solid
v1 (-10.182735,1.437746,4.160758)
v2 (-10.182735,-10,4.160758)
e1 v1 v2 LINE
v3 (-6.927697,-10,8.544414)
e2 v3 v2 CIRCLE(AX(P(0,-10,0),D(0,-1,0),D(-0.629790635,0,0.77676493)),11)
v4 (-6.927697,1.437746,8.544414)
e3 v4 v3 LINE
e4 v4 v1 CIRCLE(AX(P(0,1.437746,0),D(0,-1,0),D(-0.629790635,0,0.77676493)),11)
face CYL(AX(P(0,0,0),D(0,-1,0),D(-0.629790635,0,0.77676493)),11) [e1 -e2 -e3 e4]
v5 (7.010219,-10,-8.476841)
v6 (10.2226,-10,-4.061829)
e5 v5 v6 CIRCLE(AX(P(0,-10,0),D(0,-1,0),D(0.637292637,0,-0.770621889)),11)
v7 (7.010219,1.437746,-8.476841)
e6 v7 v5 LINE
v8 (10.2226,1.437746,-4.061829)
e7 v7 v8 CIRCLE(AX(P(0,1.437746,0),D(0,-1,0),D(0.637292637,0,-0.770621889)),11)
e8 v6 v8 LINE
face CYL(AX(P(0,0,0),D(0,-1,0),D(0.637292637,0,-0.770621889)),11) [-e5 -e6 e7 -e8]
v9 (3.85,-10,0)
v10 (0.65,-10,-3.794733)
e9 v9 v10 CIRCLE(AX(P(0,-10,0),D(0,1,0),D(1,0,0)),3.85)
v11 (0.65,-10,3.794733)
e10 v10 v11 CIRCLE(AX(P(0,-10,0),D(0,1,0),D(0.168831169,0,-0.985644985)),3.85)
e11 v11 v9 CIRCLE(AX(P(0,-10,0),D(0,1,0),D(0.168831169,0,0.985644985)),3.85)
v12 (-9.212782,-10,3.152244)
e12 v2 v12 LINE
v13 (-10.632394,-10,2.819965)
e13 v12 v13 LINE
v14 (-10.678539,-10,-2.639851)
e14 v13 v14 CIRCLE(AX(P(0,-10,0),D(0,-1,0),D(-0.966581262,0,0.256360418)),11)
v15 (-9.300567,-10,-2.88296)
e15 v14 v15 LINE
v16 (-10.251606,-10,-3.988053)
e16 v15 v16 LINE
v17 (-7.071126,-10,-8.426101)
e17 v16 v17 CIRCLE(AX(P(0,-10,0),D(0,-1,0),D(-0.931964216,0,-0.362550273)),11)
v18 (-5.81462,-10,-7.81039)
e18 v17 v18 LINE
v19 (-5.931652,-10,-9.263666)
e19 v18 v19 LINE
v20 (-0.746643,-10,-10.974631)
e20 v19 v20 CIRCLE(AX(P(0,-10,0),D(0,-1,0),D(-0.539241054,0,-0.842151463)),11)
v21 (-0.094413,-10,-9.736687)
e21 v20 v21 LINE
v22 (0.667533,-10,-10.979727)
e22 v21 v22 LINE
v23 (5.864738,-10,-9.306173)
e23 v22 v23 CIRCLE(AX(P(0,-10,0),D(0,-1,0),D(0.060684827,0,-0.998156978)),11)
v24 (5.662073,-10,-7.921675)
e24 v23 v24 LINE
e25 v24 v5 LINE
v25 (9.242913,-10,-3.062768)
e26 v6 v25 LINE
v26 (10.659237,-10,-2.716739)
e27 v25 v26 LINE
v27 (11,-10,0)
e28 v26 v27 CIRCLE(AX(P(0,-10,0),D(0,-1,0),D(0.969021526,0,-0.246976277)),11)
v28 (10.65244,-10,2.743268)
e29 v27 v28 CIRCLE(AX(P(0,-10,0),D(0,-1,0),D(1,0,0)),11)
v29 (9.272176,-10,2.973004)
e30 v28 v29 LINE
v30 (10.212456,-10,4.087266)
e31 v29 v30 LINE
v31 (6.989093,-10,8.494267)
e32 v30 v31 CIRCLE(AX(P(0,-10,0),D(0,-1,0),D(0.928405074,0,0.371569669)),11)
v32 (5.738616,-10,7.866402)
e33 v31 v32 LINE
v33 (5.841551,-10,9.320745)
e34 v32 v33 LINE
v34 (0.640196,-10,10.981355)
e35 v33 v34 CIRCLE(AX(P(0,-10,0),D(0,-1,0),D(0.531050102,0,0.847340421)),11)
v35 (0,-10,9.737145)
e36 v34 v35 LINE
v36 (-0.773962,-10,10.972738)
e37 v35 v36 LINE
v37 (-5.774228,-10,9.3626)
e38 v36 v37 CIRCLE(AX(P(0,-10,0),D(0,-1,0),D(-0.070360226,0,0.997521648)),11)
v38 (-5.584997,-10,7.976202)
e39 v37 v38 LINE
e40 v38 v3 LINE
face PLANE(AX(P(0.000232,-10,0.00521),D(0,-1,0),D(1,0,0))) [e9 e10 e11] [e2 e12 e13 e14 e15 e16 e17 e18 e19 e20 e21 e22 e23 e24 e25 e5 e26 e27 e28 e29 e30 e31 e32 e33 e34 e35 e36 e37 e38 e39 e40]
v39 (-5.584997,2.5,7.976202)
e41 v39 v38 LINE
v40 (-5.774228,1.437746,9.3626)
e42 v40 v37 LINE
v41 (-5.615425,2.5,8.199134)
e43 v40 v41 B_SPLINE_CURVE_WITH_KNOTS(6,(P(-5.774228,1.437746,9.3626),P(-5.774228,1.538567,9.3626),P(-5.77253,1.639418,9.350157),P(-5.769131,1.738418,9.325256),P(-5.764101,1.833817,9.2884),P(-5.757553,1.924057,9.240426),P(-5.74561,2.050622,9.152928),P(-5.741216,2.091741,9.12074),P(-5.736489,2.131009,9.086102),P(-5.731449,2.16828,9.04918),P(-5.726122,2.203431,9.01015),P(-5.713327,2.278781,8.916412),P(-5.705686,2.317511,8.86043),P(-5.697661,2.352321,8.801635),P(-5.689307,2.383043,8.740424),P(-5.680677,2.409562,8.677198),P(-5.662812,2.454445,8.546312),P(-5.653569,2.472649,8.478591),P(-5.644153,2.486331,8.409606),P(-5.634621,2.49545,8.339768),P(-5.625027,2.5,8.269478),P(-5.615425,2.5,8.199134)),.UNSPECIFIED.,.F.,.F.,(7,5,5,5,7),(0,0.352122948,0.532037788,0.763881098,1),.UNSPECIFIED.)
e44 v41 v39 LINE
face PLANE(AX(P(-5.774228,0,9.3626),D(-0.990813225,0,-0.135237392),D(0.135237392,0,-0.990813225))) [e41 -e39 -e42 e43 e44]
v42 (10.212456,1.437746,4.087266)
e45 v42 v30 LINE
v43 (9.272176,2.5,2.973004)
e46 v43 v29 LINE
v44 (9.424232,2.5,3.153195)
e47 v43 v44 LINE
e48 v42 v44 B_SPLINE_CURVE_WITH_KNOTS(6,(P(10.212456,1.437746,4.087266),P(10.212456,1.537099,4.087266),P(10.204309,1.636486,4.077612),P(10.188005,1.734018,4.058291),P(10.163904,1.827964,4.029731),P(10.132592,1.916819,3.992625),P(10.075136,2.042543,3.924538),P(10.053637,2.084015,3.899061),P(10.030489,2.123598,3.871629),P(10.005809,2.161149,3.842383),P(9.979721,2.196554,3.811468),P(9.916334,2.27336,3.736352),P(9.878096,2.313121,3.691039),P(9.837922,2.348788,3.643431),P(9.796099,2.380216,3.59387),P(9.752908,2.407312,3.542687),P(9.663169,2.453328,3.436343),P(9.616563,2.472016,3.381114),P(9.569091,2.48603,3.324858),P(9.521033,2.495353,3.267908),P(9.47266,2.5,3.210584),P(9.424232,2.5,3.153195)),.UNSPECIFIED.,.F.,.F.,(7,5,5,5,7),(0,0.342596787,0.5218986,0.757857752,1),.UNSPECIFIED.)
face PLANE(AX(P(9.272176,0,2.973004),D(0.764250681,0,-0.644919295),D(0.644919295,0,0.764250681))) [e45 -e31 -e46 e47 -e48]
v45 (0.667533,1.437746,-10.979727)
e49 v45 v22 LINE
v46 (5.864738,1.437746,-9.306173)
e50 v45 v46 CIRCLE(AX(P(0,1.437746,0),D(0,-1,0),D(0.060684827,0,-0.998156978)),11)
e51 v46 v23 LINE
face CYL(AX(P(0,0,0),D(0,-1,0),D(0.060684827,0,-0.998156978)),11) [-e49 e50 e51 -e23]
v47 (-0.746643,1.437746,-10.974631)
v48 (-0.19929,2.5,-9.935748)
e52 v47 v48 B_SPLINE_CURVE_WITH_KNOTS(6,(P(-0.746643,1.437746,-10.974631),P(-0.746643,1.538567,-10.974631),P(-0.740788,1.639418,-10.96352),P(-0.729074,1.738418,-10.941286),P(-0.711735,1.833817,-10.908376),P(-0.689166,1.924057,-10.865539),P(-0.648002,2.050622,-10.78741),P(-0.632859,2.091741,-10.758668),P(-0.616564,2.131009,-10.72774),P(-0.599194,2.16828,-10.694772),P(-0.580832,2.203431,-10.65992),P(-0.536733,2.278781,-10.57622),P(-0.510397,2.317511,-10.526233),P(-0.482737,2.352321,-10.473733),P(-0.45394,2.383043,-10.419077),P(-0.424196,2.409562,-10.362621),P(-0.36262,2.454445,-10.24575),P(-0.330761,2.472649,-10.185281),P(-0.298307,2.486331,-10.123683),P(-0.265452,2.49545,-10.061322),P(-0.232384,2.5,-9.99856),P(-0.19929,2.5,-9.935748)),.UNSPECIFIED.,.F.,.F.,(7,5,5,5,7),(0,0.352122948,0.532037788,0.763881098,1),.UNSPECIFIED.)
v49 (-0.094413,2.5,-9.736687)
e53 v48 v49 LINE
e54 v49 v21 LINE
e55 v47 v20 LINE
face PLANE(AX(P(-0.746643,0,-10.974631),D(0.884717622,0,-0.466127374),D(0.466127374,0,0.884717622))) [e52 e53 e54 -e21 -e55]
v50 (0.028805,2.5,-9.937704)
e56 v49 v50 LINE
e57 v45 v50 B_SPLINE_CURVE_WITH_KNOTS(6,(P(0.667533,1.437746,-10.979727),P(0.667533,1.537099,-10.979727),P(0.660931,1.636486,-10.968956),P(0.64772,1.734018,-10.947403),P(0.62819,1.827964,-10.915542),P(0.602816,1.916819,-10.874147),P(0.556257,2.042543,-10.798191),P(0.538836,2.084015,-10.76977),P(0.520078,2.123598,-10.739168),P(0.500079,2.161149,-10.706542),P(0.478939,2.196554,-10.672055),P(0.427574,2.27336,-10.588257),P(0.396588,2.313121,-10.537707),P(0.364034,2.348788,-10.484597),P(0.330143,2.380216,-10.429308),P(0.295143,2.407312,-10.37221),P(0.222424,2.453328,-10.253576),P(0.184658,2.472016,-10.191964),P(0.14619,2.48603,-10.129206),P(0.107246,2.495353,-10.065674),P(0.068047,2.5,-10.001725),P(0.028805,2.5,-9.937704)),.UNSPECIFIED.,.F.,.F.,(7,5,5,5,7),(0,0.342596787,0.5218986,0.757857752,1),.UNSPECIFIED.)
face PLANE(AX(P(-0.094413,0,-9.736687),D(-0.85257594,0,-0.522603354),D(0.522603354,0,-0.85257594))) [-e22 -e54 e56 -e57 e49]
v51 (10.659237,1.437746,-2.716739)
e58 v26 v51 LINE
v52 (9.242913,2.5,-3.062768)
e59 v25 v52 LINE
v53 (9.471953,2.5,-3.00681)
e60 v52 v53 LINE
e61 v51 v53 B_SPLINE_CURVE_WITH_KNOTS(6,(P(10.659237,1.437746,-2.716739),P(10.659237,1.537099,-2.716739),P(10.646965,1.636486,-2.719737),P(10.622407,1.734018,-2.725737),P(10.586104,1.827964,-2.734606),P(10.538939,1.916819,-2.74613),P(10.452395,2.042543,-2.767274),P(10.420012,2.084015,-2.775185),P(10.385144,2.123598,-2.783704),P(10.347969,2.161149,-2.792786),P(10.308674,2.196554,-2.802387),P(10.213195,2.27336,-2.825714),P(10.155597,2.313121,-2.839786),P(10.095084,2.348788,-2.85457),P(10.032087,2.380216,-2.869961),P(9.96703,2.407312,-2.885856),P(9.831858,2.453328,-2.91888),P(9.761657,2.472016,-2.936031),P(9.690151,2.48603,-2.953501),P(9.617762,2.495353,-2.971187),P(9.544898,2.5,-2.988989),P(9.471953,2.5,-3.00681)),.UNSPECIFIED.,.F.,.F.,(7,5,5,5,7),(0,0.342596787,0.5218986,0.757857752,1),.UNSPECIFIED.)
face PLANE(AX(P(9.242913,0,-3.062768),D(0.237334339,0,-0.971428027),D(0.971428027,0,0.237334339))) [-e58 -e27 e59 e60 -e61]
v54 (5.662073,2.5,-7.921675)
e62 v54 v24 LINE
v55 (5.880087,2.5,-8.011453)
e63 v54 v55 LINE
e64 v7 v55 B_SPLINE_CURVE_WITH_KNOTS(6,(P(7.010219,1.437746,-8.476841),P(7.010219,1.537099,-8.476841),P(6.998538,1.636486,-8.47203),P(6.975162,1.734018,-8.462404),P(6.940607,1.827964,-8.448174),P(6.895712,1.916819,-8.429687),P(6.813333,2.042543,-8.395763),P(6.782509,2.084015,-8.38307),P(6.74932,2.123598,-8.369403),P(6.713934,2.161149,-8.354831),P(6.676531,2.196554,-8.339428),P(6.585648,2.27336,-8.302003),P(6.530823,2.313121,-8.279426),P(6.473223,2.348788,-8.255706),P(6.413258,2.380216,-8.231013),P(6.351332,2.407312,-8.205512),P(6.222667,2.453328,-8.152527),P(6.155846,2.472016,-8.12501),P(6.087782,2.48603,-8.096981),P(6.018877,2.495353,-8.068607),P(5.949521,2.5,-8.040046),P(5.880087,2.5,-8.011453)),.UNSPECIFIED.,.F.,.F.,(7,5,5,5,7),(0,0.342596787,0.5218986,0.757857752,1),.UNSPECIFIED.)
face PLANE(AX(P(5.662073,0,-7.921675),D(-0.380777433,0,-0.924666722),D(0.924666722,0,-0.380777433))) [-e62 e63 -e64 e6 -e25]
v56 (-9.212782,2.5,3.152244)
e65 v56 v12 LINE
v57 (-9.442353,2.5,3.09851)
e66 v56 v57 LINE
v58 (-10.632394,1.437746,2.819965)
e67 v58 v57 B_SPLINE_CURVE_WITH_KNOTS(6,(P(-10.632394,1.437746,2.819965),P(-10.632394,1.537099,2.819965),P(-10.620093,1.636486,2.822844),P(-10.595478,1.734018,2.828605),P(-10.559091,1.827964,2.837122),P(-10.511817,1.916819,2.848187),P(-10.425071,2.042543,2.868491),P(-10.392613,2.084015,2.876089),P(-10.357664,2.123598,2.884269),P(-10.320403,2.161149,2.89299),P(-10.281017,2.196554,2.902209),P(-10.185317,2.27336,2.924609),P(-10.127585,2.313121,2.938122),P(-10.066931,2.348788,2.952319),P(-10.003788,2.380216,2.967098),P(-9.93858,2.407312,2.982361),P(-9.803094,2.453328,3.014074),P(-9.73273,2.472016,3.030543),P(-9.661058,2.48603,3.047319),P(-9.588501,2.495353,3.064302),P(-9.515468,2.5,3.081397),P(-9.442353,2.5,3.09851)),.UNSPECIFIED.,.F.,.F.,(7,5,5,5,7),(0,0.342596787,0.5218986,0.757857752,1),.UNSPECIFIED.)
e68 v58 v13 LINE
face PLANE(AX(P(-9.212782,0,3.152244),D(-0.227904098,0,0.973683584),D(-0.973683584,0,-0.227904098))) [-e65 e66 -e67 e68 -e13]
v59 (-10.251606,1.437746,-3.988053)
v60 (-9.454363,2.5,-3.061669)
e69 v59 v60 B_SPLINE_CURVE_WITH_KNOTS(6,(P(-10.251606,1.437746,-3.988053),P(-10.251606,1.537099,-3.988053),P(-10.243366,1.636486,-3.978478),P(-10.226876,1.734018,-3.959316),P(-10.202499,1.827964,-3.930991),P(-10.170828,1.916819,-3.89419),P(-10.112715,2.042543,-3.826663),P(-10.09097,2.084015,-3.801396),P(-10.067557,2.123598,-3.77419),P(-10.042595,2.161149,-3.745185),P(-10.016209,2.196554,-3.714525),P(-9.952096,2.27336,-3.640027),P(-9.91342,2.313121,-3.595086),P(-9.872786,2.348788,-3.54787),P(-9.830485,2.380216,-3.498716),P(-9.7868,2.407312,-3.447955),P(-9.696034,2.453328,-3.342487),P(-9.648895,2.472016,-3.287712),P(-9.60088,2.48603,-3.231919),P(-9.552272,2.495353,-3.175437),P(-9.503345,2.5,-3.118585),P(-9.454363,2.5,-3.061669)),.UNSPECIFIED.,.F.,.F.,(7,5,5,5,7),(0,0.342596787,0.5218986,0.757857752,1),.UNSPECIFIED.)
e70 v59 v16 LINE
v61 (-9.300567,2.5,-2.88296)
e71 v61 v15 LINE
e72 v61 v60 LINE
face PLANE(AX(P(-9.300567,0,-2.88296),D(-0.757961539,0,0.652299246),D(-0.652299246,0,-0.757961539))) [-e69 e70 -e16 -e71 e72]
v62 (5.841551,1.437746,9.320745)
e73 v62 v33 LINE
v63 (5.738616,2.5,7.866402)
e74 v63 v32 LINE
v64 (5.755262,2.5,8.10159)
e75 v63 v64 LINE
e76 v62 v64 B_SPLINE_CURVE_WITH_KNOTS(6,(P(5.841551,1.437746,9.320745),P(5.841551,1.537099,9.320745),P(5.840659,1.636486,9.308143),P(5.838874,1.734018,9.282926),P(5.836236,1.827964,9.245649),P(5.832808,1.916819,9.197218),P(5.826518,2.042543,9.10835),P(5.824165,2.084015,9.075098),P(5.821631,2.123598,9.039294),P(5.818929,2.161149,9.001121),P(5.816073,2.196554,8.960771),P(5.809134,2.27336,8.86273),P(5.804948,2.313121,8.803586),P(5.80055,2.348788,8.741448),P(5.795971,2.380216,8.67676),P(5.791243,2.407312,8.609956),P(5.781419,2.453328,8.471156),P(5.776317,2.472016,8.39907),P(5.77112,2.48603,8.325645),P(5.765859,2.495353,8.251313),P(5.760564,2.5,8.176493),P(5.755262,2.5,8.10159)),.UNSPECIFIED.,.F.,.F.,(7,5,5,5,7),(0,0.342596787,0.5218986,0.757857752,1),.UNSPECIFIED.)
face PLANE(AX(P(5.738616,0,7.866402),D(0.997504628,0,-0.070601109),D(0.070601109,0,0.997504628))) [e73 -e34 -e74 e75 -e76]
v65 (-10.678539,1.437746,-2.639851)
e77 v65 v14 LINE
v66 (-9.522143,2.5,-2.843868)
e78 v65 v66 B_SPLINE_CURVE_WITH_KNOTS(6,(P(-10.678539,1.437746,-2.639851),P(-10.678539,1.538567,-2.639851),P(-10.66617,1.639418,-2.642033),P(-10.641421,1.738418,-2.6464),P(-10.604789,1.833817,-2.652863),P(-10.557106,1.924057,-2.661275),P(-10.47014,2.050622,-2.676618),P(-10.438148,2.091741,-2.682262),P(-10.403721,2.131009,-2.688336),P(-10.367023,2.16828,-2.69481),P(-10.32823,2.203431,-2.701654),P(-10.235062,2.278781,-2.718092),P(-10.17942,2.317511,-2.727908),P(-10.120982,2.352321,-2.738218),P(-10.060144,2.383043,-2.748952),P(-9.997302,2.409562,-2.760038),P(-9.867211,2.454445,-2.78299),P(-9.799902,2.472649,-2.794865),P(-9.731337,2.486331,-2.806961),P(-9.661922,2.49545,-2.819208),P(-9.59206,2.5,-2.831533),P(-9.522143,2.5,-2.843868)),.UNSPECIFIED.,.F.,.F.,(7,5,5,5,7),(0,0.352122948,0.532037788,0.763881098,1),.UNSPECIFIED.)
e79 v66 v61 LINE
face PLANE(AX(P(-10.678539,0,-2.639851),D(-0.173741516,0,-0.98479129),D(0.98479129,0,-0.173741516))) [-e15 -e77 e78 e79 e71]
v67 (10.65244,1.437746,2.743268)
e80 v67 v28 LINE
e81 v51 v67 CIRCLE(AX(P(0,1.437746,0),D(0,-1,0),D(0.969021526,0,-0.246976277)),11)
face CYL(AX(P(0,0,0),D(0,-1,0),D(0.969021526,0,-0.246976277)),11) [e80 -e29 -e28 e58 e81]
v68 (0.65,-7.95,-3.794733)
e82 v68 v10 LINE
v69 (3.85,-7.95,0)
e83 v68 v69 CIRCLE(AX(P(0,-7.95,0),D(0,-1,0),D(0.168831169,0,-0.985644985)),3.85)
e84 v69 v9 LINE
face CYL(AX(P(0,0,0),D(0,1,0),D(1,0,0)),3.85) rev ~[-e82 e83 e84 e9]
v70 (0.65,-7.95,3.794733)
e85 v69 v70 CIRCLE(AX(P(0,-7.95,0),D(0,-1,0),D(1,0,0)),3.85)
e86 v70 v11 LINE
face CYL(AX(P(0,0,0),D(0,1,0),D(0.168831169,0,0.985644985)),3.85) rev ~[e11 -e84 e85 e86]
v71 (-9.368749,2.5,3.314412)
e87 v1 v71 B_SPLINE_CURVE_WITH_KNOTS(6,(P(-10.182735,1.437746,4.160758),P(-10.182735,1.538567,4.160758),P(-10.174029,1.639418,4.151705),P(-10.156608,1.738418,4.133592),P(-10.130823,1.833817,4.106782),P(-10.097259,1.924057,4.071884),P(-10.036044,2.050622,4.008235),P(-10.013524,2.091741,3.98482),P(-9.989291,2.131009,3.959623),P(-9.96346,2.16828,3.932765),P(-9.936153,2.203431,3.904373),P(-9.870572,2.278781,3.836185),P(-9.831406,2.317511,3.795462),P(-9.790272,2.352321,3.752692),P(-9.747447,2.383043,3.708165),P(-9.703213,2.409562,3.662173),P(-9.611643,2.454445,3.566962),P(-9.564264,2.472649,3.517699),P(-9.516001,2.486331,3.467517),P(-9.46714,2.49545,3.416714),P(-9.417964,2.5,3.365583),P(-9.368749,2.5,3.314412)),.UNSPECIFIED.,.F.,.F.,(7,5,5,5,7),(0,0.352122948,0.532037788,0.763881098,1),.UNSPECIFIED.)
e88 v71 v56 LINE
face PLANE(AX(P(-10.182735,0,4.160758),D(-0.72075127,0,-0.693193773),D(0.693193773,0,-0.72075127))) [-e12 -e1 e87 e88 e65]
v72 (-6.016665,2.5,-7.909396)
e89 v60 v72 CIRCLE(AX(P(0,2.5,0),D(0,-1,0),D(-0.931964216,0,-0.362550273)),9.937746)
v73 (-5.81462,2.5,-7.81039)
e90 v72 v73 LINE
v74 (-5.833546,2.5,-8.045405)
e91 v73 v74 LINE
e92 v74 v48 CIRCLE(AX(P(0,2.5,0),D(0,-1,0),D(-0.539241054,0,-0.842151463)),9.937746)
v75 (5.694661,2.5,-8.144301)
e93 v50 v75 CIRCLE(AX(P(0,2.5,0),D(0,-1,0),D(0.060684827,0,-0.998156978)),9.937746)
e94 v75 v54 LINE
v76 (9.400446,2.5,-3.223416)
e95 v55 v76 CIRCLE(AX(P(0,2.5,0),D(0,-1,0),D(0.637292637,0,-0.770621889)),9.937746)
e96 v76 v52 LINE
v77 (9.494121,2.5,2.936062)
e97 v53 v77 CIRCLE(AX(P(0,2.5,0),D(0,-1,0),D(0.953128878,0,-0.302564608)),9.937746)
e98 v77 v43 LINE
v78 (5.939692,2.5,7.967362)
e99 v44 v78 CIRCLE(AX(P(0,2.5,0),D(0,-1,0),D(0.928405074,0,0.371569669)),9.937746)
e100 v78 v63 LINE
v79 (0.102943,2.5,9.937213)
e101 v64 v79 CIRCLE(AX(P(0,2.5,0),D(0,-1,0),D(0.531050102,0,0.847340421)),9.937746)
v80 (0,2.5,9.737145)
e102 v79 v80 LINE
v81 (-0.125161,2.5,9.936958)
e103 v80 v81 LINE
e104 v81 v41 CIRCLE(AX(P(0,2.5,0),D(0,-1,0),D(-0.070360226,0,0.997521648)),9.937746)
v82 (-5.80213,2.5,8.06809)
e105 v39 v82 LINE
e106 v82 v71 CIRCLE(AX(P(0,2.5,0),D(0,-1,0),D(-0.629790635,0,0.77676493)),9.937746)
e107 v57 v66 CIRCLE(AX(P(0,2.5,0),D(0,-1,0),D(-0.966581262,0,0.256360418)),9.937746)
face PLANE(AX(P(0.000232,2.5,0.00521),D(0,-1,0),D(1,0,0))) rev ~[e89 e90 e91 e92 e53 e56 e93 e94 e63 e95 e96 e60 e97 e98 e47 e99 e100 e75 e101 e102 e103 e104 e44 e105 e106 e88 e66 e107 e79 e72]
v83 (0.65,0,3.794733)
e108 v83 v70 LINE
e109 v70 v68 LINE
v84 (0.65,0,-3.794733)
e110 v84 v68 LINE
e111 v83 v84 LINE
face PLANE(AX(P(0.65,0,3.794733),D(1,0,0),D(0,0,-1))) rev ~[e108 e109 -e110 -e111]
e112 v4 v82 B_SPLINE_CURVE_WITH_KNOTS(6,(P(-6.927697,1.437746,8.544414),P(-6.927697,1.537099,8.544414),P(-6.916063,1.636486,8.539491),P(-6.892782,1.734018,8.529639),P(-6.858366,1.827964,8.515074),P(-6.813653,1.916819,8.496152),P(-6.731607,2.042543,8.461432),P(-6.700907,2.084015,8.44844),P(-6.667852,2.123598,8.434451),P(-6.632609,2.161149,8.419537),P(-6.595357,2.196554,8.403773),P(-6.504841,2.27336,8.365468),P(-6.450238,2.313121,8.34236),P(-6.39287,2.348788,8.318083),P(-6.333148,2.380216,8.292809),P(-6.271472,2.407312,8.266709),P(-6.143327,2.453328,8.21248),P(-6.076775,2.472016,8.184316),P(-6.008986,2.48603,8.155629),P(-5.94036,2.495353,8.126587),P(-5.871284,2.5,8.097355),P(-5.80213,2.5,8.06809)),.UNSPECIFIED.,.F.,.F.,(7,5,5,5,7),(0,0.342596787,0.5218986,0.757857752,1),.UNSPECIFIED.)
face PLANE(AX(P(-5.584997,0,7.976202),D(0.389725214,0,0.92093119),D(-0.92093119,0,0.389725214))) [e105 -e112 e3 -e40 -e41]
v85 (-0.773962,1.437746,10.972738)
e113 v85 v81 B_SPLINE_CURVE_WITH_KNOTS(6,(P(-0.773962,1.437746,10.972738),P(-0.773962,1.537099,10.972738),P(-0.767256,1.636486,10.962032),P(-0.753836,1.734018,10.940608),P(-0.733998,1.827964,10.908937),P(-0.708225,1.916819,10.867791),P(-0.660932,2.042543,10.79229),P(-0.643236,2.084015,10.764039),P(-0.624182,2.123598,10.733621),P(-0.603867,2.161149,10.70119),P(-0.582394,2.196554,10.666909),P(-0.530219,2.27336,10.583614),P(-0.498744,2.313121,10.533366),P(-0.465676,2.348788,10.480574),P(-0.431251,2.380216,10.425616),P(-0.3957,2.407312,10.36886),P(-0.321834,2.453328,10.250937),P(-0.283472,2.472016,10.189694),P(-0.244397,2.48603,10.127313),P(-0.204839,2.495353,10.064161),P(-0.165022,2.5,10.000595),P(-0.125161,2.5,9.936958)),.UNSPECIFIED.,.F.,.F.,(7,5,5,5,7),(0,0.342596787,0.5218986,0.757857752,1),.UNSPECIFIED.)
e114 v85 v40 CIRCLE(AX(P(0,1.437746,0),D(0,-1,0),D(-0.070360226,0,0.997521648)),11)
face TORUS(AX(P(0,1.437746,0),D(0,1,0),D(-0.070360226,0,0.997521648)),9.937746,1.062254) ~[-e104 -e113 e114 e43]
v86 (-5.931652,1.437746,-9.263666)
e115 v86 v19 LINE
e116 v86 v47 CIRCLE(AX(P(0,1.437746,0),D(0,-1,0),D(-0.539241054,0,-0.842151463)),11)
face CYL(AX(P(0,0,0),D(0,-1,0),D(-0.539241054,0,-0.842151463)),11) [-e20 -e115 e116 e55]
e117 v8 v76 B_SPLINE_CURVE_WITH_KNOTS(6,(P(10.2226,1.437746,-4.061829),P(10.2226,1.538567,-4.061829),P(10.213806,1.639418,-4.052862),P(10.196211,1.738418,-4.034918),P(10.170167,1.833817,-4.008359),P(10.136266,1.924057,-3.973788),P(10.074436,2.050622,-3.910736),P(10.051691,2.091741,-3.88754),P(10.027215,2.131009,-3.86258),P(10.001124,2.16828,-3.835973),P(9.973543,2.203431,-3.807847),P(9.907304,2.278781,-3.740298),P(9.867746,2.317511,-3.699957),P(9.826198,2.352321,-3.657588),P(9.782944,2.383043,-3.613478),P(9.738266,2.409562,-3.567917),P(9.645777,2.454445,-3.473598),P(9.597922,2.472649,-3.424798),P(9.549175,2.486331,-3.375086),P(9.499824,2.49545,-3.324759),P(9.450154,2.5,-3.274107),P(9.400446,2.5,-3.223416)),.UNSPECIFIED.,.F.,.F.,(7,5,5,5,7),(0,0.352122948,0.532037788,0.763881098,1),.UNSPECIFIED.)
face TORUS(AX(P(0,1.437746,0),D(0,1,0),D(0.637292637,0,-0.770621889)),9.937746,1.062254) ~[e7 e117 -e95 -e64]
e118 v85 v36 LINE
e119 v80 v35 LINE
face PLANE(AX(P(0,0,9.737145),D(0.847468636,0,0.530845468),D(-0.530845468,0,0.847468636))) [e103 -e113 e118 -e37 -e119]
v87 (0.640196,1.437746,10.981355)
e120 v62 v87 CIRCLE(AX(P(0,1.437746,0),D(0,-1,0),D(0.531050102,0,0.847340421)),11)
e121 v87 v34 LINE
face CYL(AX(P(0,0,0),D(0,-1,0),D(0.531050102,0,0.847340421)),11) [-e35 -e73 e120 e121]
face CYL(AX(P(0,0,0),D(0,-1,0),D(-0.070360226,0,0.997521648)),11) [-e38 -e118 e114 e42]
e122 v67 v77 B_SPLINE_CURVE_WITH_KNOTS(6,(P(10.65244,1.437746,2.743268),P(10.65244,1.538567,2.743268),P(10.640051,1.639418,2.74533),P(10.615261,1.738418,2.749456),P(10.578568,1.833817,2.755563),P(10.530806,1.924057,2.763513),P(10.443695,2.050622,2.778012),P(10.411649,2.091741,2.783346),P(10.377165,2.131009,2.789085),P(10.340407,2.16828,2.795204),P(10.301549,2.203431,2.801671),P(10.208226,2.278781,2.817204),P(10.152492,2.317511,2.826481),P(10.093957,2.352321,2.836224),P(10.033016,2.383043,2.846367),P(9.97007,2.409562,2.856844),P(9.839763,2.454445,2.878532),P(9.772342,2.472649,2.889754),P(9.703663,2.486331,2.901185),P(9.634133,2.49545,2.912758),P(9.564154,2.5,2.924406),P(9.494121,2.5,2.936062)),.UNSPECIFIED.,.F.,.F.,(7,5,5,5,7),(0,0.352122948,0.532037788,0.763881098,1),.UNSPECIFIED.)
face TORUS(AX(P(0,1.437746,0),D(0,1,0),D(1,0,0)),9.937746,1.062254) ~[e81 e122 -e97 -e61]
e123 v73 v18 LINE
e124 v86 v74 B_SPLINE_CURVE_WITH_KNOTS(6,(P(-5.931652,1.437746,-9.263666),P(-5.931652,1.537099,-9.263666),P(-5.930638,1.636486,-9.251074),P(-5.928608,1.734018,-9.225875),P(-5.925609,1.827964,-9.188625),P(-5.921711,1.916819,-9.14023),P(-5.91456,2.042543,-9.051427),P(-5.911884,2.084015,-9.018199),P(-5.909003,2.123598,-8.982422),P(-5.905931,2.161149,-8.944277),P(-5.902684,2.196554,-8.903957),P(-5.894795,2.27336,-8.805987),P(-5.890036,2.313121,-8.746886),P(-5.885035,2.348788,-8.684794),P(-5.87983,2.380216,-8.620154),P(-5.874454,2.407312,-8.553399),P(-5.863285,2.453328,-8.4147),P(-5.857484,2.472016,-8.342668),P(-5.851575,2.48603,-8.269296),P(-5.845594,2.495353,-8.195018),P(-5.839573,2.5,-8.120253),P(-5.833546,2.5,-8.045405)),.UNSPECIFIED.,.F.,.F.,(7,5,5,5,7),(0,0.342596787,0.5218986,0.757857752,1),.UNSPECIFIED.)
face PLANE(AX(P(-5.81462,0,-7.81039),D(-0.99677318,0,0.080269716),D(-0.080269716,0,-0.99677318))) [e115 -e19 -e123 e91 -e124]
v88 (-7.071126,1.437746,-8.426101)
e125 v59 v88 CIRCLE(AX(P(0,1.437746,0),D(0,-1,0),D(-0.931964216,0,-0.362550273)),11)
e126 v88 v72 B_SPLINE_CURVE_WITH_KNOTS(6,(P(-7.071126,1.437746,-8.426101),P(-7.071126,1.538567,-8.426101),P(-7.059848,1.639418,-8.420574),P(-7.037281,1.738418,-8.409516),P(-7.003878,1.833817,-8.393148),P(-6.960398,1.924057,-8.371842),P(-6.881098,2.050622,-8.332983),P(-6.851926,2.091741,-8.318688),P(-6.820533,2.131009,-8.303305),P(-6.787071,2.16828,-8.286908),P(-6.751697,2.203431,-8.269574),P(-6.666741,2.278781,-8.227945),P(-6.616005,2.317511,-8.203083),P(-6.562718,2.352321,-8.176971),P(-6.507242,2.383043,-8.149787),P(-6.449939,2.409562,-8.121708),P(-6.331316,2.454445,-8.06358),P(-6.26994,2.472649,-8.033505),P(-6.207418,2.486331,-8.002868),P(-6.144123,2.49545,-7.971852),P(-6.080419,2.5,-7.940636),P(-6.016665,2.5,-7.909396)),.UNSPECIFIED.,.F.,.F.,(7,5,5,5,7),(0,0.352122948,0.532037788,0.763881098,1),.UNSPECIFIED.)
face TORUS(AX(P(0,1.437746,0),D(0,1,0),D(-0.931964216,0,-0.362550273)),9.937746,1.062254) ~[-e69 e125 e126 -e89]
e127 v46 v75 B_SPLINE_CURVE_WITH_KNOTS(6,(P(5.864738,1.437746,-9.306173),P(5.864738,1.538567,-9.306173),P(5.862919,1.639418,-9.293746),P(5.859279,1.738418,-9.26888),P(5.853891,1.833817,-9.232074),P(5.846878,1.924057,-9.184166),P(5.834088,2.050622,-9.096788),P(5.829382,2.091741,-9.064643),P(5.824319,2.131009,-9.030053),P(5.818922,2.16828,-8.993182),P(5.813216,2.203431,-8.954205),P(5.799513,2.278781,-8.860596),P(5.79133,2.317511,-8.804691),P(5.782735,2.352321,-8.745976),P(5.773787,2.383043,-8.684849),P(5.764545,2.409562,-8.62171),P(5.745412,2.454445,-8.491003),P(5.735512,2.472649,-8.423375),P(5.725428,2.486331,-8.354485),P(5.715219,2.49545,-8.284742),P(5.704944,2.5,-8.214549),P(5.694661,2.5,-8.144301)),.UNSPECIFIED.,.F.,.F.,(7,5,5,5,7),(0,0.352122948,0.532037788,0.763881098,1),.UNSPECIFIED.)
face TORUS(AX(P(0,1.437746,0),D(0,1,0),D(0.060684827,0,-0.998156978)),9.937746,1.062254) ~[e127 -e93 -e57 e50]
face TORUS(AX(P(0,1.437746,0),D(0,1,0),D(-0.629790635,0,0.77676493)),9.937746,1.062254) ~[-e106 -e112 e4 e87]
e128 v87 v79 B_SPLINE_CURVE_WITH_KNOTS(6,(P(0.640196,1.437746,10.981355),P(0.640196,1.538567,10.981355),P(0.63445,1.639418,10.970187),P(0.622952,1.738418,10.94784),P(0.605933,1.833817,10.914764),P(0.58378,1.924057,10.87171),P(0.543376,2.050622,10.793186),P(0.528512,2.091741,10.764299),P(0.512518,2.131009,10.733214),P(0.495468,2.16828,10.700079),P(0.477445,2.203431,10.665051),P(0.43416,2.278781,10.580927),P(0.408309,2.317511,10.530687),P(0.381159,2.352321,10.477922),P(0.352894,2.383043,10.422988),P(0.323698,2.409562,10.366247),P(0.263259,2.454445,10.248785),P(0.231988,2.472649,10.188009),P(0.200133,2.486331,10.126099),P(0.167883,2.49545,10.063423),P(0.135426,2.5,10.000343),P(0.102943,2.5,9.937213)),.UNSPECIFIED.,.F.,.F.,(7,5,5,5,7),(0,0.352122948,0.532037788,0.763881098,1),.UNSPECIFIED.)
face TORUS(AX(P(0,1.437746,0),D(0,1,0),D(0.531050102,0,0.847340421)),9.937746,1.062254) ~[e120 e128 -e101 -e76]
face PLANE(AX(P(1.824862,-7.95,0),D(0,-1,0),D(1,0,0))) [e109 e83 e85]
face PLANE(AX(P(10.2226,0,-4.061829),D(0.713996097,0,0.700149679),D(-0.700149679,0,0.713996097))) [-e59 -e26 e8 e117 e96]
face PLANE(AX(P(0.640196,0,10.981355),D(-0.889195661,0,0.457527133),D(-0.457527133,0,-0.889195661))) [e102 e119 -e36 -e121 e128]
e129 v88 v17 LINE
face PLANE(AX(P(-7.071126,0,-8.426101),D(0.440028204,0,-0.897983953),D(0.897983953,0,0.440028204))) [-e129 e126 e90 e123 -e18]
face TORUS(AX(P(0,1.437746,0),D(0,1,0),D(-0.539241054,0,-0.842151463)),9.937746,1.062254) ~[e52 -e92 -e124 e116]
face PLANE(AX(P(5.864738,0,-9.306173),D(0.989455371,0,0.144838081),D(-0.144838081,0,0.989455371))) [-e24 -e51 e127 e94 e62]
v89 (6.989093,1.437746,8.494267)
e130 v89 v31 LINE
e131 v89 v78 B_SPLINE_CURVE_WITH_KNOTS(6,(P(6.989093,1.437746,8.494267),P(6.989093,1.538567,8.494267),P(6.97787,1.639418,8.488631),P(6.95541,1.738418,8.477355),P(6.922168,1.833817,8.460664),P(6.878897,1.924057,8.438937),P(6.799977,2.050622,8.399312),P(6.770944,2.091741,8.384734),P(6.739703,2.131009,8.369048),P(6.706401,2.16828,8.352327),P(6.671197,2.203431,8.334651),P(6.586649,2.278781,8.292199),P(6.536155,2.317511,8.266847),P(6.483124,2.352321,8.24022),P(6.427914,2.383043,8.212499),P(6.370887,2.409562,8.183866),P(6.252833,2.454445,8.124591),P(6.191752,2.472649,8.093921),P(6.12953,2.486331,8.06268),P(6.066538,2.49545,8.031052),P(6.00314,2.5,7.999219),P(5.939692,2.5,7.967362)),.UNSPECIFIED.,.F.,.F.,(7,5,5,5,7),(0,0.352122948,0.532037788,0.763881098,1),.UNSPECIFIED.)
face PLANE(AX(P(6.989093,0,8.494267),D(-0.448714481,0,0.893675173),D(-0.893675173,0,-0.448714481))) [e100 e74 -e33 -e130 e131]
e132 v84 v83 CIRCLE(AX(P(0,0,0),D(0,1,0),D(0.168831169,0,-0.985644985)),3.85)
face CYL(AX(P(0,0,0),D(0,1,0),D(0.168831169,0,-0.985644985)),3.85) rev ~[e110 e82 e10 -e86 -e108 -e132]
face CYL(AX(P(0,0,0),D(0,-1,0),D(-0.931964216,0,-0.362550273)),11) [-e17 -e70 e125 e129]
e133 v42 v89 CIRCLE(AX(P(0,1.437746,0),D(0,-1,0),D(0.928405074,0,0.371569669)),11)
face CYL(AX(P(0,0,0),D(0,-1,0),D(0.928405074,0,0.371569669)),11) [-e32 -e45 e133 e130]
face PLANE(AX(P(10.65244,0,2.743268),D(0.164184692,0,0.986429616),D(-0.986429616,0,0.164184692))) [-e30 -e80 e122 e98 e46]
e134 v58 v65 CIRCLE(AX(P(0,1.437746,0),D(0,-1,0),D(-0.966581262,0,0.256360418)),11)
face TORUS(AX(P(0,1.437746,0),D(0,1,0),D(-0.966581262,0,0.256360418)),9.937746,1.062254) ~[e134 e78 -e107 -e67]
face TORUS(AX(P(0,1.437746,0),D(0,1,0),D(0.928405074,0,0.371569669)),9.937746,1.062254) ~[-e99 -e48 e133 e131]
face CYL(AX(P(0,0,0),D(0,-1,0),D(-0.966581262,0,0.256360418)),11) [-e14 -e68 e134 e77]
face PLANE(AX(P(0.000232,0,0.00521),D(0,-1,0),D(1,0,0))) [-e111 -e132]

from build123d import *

# Parameters (mm, degrees)
F1_DEPTH = 10
F2_DEPTH = 7.95
F3_DEPTH = 2.5
F4_R     = 1.0622539674


with BuildPart() as f1:
    # F0 (on Front) → F1 (new body)
    with BuildSketch(Plane.XZ):
        with BuildLine():
            ThreePointArc((10.6592367905, -2.7167390458), (10.9144767327, -1.3690133864), (11, 0))
            ThreePointArc((11, 0), (10.9127641391, 1.3825985843), (10.65244021, 2.7432676816))
            Line((10.65244021, 2.7432676816), (9.2721758837, 2.9730035594))
            Line((9.2721758837, 2.9730035594), (10.2124558135, 4.0872663551))
            ThreePointArc((10.2124558135, 4.0872663551), (8.8785549643, 6.4939403867), (6.9890934799, 8.4942670272))
            Line((6.9890934799, 8.4942670272), (5.7386160604, 7.8664020679))
            Line((5.7386160604, 7.8664020679), (5.8415511192, 9.3207446335))
            ThreePointArc((5.8415511192, 9.3207446335), (3.3455445115, 10.4788993659), (0.6401960862, 10.9813546055))
            Line((0.6401960862, 10.9813546055), (0, 9.7371451557))
            Line((0, 9.7371451557), (-0.7739624833, 10.9727381302))
            ThreePointArc((-0.7739624833, 10.9727381302), (-3.3716222336, 10.4705378808), (-5.7742283081, 9.3626004638))
            Line((-5.7742283081, 9.3626004638), (-5.5849970186, 7.9762023598))
            Line((-5.5849970186, 7.9762023598), (-6.9276969841, 8.5444142278))
            ThreePointArc((-6.9276969841, 8.5444142278), (-8.8315250081, 6.5577561735), (-10.1827352173, 4.1607575626))
            Line((-10.1827352173, 4.1607575626), (-9.2127819423, 3.1522443856))
            Line((-9.2127819423, 3.1522443856), (-10.6323938835, 2.819964593))
            ThreePointArc((-10.6323938835, 2.819964593), (-10.9996071509, 0.0929651823), (-10.6785385121, -2.6398513682))
            Line((-10.6785385121, -2.6398513682), (-9.300566617, -2.8829596573))
            Line((-9.300566617, -2.8829596573), (-10.2516063733, -3.9880530046))
            ThreePointArc((-10.2516063733, -3.9880530046), (-8.941103633, -6.407547567), (-7.0711263799, -8.4261006236))
            Line((-7.0711263799, -8.4261006236), (-5.8146198884, -7.8103899606))
            Line((-5.8146198884, -7.8103899606), (-5.9316515908, -9.2636660888))
            ThreePointArc((-5.9316515908, -9.2636660888), (-3.4469919259, -10.445967962), (-0.7466425421, -10.9746309694))
            Line((-0.7466425421, -10.9746309694), (-0.0944125443, -9.7366874272))
            Line((-0.0944125443, -9.7366874272), (0.6675330963, -10.9797267528))
            ThreePointArc((0.6675330963, -10.9797267528), (3.3716222336, -10.4705378808), (5.8647377838, -9.3061727218))
            Line((5.8647377838, -9.3061727218), (5.662072705, -7.9216745998))
            Line((5.662072705, -7.9216745998), (7.0102190036, -8.4768407748))
            ThreePointArc((7.0102190036, -8.4768407748), (8.8946946533, -6.4718163621), (10.2225997539, -4.0618289319))
            Line((10.2225997539, -4.0618289319), (9.2429134084, -3.0627679486))
            Line((9.2429134084, -3.0627679486), (10.6592367905, -2.7167390458))
        make_face()
        with BuildLine():
            ThreePointArc((0.65, 3.7947331922), (2.9432125306, 2.4819347292), (3.85, 0))
            ThreePointArc((3.85, 0), (2.9432125306, -2.4819347292), (0.65, -3.7947331922))
            ThreePointArc((0.65, -3.7947331922), (-3.85, 0), (0.65, 3.7947331922))
        make_face(mode=Mode.SUBTRACT)
    extrude(amount=F1_DEPTH)

    # F0 (on Front) → F2 (join)
    with BuildSketch(Plane.XZ):
        with BuildLine():
            ThreePointArc((0.65, -3.7947331922), (2.9432125306, -2.4819347292), (3.85, 0))
            ThreePointArc((3.85, 0), (2.9432125306, 2.4819347292), (0.65, 3.7947331922))
            Line((0.65, 3.7947331922), (0.65, -3.7947331922))
        make_face()
    extrude(amount=F2_DEPTH)

    # F0 (on Front) → F3 (join)
    with BuildSketch(Plane.XZ):
        with BuildLine():
            ThreePointArc((10.6592367905, -2.7167390458), (10.9144767327, -1.3690133864), (11, 0))
            ThreePointArc((11, 0), (10.9127641391, 1.3825985843), (10.65244021, 2.7432676816))
            Line((10.65244021, 2.7432676816), (9.2721758837, 2.9730035594))
            Line((9.2721758837, 2.9730035594), (10.2124558135, 4.0872663551))
            ThreePointArc((10.2124558135, 4.0872663551), (8.8785549643, 6.4939403867), (6.9890934799, 8.4942670272))
            Line((6.9890934799, 8.4942670272), (5.7386160604, 7.8664020679))
            Line((5.7386160604, 7.8664020679), (5.8415511192, 9.3207446335))
            ThreePointArc((5.8415511192, 9.3207446335), (3.3455445115, 10.4788993659), (0.6401960862, 10.9813546055))
            Line((0.6401960862, 10.9813546055), (0, 9.7371451557))
            Line((0, 9.7371451557), (-0.7739624833, 10.9727381302))
            ThreePointArc((-0.7739624833, 10.9727381302), (-3.3716222336, 10.4705378808), (-5.7742283081, 9.3626004638))
            Line((-5.7742283081, 9.3626004638), (-5.5849970186, 7.9762023598))
            Line((-5.5849970186, 7.9762023598), (-6.9276969841, 8.5444142278))
            ThreePointArc((-6.9276969841, 8.5444142278), (-8.8315250081, 6.5577561735), (-10.1827352173, 4.1607575626))
            Line((-10.1827352173, 4.1607575626), (-9.2127819423, 3.1522443856))
            Line((-9.2127819423, 3.1522443856), (-10.6323938835, 2.819964593))
            ThreePointArc((-10.6323938835, 2.819964593), (-10.9996071509, 0.0929651823), (-10.6785385121, -2.6398513682))
            Line((-10.6785385121, -2.6398513682), (-9.300566617, -2.8829596573))
            Line((-9.300566617, -2.8829596573), (-10.2516063733, -3.9880530046))
            ThreePointArc((-10.2516063733, -3.9880530046), (-8.941103633, -6.407547567), (-7.0711263799, -8.4261006236))
            Line((-7.0711263799, -8.4261006236), (-5.8146198884, -7.8103899606))
            Line((-5.8146198884, -7.8103899606), (-5.9316515908, -9.2636660888))
            ThreePointArc((-5.9316515908, -9.2636660888), (-3.4469919259, -10.445967962), (-0.7466425421, -10.9746309694))
            Line((-0.7466425421, -10.9746309694), (-0.0944125443, -9.7366874272))
            Line((-0.0944125443, -9.7366874272), (0.6675330963, -10.9797267528))
            ThreePointArc((0.6675330963, -10.9797267528), (3.3716222336, -10.4705378808), (5.8647377838, -9.3061727218))
            Line((5.8647377838, -9.3061727218), (5.662072705, -7.9216745998))
            Line((5.662072705, -7.9216745998), (7.0102190036, -8.4768407748))
            ThreePointArc((7.0102190036, -8.4768407748), (8.8946946533, -6.4718163621), (10.2225997539, -4.0618289319))
            Line((10.2225997539, -4.0618289319), (9.2429134084, -3.0627679486))
            Line((9.2429134084, -3.0627679486), (10.6592367905, -2.7167390458))
        make_face()
        with BuildLine():
            ThreePointArc((0.65, 3.7947331922), (2.9432125306, 2.4819347292), (3.85, 0))
            ThreePointArc((3.85, 0), (2.9432125306, -2.4819347292), (0.65, -3.7947331922))
            ThreePointArc((0.65, -3.7947331922), (-3.85, 0), (0.65, 3.7947331922))
        make_face(mode=Mode.SUBTRACT)
        with BuildLine():
            Line((0.65, -3.7947331922), (0.65, 3.7947331922))
            ThreePointArc((0.65, 3.7947331922), (-3.85, 0), (0.65, -3.7947331922))
        make_face()
        with BuildLine():
            ThreePointArc((0.65, -3.7947331922), (2.9432125306, -2.4819347292), (3.85, 0))
            ThreePointArc((3.85, 0), (2.9432125306, 2.4819347292), (0.65, 3.7947331922))
            Line((0.65, 3.7947331922), (0.65, -3.7947331922))
        make_face()
    extrude(amount=-F3_DEPTH)

    # F4
    f4_edges = [f1.edges().sort_by_distance(p)[0] for p in [
        (-3.446992, 2.5, -10.445968),
        (3.371622, 2.5, -10.470538),
        (8.878555, 2.5, 6.49394),
        (3.345545, 2.5, 10.478899),
        (-3.371622, 2.5, 10.470538),
        (-8.831525, 2.5, 6.557756),
        (-10.999607, 2.5, 0.092965),
        (-8.941104, 2.5, -6.407548),
        (8.894695, 2.5, -6.471816),
        (10.999991, 2.5, 0.013693),
    ]]
    fillet(f4_edges, radius=F4_R)


solid = f1.part
